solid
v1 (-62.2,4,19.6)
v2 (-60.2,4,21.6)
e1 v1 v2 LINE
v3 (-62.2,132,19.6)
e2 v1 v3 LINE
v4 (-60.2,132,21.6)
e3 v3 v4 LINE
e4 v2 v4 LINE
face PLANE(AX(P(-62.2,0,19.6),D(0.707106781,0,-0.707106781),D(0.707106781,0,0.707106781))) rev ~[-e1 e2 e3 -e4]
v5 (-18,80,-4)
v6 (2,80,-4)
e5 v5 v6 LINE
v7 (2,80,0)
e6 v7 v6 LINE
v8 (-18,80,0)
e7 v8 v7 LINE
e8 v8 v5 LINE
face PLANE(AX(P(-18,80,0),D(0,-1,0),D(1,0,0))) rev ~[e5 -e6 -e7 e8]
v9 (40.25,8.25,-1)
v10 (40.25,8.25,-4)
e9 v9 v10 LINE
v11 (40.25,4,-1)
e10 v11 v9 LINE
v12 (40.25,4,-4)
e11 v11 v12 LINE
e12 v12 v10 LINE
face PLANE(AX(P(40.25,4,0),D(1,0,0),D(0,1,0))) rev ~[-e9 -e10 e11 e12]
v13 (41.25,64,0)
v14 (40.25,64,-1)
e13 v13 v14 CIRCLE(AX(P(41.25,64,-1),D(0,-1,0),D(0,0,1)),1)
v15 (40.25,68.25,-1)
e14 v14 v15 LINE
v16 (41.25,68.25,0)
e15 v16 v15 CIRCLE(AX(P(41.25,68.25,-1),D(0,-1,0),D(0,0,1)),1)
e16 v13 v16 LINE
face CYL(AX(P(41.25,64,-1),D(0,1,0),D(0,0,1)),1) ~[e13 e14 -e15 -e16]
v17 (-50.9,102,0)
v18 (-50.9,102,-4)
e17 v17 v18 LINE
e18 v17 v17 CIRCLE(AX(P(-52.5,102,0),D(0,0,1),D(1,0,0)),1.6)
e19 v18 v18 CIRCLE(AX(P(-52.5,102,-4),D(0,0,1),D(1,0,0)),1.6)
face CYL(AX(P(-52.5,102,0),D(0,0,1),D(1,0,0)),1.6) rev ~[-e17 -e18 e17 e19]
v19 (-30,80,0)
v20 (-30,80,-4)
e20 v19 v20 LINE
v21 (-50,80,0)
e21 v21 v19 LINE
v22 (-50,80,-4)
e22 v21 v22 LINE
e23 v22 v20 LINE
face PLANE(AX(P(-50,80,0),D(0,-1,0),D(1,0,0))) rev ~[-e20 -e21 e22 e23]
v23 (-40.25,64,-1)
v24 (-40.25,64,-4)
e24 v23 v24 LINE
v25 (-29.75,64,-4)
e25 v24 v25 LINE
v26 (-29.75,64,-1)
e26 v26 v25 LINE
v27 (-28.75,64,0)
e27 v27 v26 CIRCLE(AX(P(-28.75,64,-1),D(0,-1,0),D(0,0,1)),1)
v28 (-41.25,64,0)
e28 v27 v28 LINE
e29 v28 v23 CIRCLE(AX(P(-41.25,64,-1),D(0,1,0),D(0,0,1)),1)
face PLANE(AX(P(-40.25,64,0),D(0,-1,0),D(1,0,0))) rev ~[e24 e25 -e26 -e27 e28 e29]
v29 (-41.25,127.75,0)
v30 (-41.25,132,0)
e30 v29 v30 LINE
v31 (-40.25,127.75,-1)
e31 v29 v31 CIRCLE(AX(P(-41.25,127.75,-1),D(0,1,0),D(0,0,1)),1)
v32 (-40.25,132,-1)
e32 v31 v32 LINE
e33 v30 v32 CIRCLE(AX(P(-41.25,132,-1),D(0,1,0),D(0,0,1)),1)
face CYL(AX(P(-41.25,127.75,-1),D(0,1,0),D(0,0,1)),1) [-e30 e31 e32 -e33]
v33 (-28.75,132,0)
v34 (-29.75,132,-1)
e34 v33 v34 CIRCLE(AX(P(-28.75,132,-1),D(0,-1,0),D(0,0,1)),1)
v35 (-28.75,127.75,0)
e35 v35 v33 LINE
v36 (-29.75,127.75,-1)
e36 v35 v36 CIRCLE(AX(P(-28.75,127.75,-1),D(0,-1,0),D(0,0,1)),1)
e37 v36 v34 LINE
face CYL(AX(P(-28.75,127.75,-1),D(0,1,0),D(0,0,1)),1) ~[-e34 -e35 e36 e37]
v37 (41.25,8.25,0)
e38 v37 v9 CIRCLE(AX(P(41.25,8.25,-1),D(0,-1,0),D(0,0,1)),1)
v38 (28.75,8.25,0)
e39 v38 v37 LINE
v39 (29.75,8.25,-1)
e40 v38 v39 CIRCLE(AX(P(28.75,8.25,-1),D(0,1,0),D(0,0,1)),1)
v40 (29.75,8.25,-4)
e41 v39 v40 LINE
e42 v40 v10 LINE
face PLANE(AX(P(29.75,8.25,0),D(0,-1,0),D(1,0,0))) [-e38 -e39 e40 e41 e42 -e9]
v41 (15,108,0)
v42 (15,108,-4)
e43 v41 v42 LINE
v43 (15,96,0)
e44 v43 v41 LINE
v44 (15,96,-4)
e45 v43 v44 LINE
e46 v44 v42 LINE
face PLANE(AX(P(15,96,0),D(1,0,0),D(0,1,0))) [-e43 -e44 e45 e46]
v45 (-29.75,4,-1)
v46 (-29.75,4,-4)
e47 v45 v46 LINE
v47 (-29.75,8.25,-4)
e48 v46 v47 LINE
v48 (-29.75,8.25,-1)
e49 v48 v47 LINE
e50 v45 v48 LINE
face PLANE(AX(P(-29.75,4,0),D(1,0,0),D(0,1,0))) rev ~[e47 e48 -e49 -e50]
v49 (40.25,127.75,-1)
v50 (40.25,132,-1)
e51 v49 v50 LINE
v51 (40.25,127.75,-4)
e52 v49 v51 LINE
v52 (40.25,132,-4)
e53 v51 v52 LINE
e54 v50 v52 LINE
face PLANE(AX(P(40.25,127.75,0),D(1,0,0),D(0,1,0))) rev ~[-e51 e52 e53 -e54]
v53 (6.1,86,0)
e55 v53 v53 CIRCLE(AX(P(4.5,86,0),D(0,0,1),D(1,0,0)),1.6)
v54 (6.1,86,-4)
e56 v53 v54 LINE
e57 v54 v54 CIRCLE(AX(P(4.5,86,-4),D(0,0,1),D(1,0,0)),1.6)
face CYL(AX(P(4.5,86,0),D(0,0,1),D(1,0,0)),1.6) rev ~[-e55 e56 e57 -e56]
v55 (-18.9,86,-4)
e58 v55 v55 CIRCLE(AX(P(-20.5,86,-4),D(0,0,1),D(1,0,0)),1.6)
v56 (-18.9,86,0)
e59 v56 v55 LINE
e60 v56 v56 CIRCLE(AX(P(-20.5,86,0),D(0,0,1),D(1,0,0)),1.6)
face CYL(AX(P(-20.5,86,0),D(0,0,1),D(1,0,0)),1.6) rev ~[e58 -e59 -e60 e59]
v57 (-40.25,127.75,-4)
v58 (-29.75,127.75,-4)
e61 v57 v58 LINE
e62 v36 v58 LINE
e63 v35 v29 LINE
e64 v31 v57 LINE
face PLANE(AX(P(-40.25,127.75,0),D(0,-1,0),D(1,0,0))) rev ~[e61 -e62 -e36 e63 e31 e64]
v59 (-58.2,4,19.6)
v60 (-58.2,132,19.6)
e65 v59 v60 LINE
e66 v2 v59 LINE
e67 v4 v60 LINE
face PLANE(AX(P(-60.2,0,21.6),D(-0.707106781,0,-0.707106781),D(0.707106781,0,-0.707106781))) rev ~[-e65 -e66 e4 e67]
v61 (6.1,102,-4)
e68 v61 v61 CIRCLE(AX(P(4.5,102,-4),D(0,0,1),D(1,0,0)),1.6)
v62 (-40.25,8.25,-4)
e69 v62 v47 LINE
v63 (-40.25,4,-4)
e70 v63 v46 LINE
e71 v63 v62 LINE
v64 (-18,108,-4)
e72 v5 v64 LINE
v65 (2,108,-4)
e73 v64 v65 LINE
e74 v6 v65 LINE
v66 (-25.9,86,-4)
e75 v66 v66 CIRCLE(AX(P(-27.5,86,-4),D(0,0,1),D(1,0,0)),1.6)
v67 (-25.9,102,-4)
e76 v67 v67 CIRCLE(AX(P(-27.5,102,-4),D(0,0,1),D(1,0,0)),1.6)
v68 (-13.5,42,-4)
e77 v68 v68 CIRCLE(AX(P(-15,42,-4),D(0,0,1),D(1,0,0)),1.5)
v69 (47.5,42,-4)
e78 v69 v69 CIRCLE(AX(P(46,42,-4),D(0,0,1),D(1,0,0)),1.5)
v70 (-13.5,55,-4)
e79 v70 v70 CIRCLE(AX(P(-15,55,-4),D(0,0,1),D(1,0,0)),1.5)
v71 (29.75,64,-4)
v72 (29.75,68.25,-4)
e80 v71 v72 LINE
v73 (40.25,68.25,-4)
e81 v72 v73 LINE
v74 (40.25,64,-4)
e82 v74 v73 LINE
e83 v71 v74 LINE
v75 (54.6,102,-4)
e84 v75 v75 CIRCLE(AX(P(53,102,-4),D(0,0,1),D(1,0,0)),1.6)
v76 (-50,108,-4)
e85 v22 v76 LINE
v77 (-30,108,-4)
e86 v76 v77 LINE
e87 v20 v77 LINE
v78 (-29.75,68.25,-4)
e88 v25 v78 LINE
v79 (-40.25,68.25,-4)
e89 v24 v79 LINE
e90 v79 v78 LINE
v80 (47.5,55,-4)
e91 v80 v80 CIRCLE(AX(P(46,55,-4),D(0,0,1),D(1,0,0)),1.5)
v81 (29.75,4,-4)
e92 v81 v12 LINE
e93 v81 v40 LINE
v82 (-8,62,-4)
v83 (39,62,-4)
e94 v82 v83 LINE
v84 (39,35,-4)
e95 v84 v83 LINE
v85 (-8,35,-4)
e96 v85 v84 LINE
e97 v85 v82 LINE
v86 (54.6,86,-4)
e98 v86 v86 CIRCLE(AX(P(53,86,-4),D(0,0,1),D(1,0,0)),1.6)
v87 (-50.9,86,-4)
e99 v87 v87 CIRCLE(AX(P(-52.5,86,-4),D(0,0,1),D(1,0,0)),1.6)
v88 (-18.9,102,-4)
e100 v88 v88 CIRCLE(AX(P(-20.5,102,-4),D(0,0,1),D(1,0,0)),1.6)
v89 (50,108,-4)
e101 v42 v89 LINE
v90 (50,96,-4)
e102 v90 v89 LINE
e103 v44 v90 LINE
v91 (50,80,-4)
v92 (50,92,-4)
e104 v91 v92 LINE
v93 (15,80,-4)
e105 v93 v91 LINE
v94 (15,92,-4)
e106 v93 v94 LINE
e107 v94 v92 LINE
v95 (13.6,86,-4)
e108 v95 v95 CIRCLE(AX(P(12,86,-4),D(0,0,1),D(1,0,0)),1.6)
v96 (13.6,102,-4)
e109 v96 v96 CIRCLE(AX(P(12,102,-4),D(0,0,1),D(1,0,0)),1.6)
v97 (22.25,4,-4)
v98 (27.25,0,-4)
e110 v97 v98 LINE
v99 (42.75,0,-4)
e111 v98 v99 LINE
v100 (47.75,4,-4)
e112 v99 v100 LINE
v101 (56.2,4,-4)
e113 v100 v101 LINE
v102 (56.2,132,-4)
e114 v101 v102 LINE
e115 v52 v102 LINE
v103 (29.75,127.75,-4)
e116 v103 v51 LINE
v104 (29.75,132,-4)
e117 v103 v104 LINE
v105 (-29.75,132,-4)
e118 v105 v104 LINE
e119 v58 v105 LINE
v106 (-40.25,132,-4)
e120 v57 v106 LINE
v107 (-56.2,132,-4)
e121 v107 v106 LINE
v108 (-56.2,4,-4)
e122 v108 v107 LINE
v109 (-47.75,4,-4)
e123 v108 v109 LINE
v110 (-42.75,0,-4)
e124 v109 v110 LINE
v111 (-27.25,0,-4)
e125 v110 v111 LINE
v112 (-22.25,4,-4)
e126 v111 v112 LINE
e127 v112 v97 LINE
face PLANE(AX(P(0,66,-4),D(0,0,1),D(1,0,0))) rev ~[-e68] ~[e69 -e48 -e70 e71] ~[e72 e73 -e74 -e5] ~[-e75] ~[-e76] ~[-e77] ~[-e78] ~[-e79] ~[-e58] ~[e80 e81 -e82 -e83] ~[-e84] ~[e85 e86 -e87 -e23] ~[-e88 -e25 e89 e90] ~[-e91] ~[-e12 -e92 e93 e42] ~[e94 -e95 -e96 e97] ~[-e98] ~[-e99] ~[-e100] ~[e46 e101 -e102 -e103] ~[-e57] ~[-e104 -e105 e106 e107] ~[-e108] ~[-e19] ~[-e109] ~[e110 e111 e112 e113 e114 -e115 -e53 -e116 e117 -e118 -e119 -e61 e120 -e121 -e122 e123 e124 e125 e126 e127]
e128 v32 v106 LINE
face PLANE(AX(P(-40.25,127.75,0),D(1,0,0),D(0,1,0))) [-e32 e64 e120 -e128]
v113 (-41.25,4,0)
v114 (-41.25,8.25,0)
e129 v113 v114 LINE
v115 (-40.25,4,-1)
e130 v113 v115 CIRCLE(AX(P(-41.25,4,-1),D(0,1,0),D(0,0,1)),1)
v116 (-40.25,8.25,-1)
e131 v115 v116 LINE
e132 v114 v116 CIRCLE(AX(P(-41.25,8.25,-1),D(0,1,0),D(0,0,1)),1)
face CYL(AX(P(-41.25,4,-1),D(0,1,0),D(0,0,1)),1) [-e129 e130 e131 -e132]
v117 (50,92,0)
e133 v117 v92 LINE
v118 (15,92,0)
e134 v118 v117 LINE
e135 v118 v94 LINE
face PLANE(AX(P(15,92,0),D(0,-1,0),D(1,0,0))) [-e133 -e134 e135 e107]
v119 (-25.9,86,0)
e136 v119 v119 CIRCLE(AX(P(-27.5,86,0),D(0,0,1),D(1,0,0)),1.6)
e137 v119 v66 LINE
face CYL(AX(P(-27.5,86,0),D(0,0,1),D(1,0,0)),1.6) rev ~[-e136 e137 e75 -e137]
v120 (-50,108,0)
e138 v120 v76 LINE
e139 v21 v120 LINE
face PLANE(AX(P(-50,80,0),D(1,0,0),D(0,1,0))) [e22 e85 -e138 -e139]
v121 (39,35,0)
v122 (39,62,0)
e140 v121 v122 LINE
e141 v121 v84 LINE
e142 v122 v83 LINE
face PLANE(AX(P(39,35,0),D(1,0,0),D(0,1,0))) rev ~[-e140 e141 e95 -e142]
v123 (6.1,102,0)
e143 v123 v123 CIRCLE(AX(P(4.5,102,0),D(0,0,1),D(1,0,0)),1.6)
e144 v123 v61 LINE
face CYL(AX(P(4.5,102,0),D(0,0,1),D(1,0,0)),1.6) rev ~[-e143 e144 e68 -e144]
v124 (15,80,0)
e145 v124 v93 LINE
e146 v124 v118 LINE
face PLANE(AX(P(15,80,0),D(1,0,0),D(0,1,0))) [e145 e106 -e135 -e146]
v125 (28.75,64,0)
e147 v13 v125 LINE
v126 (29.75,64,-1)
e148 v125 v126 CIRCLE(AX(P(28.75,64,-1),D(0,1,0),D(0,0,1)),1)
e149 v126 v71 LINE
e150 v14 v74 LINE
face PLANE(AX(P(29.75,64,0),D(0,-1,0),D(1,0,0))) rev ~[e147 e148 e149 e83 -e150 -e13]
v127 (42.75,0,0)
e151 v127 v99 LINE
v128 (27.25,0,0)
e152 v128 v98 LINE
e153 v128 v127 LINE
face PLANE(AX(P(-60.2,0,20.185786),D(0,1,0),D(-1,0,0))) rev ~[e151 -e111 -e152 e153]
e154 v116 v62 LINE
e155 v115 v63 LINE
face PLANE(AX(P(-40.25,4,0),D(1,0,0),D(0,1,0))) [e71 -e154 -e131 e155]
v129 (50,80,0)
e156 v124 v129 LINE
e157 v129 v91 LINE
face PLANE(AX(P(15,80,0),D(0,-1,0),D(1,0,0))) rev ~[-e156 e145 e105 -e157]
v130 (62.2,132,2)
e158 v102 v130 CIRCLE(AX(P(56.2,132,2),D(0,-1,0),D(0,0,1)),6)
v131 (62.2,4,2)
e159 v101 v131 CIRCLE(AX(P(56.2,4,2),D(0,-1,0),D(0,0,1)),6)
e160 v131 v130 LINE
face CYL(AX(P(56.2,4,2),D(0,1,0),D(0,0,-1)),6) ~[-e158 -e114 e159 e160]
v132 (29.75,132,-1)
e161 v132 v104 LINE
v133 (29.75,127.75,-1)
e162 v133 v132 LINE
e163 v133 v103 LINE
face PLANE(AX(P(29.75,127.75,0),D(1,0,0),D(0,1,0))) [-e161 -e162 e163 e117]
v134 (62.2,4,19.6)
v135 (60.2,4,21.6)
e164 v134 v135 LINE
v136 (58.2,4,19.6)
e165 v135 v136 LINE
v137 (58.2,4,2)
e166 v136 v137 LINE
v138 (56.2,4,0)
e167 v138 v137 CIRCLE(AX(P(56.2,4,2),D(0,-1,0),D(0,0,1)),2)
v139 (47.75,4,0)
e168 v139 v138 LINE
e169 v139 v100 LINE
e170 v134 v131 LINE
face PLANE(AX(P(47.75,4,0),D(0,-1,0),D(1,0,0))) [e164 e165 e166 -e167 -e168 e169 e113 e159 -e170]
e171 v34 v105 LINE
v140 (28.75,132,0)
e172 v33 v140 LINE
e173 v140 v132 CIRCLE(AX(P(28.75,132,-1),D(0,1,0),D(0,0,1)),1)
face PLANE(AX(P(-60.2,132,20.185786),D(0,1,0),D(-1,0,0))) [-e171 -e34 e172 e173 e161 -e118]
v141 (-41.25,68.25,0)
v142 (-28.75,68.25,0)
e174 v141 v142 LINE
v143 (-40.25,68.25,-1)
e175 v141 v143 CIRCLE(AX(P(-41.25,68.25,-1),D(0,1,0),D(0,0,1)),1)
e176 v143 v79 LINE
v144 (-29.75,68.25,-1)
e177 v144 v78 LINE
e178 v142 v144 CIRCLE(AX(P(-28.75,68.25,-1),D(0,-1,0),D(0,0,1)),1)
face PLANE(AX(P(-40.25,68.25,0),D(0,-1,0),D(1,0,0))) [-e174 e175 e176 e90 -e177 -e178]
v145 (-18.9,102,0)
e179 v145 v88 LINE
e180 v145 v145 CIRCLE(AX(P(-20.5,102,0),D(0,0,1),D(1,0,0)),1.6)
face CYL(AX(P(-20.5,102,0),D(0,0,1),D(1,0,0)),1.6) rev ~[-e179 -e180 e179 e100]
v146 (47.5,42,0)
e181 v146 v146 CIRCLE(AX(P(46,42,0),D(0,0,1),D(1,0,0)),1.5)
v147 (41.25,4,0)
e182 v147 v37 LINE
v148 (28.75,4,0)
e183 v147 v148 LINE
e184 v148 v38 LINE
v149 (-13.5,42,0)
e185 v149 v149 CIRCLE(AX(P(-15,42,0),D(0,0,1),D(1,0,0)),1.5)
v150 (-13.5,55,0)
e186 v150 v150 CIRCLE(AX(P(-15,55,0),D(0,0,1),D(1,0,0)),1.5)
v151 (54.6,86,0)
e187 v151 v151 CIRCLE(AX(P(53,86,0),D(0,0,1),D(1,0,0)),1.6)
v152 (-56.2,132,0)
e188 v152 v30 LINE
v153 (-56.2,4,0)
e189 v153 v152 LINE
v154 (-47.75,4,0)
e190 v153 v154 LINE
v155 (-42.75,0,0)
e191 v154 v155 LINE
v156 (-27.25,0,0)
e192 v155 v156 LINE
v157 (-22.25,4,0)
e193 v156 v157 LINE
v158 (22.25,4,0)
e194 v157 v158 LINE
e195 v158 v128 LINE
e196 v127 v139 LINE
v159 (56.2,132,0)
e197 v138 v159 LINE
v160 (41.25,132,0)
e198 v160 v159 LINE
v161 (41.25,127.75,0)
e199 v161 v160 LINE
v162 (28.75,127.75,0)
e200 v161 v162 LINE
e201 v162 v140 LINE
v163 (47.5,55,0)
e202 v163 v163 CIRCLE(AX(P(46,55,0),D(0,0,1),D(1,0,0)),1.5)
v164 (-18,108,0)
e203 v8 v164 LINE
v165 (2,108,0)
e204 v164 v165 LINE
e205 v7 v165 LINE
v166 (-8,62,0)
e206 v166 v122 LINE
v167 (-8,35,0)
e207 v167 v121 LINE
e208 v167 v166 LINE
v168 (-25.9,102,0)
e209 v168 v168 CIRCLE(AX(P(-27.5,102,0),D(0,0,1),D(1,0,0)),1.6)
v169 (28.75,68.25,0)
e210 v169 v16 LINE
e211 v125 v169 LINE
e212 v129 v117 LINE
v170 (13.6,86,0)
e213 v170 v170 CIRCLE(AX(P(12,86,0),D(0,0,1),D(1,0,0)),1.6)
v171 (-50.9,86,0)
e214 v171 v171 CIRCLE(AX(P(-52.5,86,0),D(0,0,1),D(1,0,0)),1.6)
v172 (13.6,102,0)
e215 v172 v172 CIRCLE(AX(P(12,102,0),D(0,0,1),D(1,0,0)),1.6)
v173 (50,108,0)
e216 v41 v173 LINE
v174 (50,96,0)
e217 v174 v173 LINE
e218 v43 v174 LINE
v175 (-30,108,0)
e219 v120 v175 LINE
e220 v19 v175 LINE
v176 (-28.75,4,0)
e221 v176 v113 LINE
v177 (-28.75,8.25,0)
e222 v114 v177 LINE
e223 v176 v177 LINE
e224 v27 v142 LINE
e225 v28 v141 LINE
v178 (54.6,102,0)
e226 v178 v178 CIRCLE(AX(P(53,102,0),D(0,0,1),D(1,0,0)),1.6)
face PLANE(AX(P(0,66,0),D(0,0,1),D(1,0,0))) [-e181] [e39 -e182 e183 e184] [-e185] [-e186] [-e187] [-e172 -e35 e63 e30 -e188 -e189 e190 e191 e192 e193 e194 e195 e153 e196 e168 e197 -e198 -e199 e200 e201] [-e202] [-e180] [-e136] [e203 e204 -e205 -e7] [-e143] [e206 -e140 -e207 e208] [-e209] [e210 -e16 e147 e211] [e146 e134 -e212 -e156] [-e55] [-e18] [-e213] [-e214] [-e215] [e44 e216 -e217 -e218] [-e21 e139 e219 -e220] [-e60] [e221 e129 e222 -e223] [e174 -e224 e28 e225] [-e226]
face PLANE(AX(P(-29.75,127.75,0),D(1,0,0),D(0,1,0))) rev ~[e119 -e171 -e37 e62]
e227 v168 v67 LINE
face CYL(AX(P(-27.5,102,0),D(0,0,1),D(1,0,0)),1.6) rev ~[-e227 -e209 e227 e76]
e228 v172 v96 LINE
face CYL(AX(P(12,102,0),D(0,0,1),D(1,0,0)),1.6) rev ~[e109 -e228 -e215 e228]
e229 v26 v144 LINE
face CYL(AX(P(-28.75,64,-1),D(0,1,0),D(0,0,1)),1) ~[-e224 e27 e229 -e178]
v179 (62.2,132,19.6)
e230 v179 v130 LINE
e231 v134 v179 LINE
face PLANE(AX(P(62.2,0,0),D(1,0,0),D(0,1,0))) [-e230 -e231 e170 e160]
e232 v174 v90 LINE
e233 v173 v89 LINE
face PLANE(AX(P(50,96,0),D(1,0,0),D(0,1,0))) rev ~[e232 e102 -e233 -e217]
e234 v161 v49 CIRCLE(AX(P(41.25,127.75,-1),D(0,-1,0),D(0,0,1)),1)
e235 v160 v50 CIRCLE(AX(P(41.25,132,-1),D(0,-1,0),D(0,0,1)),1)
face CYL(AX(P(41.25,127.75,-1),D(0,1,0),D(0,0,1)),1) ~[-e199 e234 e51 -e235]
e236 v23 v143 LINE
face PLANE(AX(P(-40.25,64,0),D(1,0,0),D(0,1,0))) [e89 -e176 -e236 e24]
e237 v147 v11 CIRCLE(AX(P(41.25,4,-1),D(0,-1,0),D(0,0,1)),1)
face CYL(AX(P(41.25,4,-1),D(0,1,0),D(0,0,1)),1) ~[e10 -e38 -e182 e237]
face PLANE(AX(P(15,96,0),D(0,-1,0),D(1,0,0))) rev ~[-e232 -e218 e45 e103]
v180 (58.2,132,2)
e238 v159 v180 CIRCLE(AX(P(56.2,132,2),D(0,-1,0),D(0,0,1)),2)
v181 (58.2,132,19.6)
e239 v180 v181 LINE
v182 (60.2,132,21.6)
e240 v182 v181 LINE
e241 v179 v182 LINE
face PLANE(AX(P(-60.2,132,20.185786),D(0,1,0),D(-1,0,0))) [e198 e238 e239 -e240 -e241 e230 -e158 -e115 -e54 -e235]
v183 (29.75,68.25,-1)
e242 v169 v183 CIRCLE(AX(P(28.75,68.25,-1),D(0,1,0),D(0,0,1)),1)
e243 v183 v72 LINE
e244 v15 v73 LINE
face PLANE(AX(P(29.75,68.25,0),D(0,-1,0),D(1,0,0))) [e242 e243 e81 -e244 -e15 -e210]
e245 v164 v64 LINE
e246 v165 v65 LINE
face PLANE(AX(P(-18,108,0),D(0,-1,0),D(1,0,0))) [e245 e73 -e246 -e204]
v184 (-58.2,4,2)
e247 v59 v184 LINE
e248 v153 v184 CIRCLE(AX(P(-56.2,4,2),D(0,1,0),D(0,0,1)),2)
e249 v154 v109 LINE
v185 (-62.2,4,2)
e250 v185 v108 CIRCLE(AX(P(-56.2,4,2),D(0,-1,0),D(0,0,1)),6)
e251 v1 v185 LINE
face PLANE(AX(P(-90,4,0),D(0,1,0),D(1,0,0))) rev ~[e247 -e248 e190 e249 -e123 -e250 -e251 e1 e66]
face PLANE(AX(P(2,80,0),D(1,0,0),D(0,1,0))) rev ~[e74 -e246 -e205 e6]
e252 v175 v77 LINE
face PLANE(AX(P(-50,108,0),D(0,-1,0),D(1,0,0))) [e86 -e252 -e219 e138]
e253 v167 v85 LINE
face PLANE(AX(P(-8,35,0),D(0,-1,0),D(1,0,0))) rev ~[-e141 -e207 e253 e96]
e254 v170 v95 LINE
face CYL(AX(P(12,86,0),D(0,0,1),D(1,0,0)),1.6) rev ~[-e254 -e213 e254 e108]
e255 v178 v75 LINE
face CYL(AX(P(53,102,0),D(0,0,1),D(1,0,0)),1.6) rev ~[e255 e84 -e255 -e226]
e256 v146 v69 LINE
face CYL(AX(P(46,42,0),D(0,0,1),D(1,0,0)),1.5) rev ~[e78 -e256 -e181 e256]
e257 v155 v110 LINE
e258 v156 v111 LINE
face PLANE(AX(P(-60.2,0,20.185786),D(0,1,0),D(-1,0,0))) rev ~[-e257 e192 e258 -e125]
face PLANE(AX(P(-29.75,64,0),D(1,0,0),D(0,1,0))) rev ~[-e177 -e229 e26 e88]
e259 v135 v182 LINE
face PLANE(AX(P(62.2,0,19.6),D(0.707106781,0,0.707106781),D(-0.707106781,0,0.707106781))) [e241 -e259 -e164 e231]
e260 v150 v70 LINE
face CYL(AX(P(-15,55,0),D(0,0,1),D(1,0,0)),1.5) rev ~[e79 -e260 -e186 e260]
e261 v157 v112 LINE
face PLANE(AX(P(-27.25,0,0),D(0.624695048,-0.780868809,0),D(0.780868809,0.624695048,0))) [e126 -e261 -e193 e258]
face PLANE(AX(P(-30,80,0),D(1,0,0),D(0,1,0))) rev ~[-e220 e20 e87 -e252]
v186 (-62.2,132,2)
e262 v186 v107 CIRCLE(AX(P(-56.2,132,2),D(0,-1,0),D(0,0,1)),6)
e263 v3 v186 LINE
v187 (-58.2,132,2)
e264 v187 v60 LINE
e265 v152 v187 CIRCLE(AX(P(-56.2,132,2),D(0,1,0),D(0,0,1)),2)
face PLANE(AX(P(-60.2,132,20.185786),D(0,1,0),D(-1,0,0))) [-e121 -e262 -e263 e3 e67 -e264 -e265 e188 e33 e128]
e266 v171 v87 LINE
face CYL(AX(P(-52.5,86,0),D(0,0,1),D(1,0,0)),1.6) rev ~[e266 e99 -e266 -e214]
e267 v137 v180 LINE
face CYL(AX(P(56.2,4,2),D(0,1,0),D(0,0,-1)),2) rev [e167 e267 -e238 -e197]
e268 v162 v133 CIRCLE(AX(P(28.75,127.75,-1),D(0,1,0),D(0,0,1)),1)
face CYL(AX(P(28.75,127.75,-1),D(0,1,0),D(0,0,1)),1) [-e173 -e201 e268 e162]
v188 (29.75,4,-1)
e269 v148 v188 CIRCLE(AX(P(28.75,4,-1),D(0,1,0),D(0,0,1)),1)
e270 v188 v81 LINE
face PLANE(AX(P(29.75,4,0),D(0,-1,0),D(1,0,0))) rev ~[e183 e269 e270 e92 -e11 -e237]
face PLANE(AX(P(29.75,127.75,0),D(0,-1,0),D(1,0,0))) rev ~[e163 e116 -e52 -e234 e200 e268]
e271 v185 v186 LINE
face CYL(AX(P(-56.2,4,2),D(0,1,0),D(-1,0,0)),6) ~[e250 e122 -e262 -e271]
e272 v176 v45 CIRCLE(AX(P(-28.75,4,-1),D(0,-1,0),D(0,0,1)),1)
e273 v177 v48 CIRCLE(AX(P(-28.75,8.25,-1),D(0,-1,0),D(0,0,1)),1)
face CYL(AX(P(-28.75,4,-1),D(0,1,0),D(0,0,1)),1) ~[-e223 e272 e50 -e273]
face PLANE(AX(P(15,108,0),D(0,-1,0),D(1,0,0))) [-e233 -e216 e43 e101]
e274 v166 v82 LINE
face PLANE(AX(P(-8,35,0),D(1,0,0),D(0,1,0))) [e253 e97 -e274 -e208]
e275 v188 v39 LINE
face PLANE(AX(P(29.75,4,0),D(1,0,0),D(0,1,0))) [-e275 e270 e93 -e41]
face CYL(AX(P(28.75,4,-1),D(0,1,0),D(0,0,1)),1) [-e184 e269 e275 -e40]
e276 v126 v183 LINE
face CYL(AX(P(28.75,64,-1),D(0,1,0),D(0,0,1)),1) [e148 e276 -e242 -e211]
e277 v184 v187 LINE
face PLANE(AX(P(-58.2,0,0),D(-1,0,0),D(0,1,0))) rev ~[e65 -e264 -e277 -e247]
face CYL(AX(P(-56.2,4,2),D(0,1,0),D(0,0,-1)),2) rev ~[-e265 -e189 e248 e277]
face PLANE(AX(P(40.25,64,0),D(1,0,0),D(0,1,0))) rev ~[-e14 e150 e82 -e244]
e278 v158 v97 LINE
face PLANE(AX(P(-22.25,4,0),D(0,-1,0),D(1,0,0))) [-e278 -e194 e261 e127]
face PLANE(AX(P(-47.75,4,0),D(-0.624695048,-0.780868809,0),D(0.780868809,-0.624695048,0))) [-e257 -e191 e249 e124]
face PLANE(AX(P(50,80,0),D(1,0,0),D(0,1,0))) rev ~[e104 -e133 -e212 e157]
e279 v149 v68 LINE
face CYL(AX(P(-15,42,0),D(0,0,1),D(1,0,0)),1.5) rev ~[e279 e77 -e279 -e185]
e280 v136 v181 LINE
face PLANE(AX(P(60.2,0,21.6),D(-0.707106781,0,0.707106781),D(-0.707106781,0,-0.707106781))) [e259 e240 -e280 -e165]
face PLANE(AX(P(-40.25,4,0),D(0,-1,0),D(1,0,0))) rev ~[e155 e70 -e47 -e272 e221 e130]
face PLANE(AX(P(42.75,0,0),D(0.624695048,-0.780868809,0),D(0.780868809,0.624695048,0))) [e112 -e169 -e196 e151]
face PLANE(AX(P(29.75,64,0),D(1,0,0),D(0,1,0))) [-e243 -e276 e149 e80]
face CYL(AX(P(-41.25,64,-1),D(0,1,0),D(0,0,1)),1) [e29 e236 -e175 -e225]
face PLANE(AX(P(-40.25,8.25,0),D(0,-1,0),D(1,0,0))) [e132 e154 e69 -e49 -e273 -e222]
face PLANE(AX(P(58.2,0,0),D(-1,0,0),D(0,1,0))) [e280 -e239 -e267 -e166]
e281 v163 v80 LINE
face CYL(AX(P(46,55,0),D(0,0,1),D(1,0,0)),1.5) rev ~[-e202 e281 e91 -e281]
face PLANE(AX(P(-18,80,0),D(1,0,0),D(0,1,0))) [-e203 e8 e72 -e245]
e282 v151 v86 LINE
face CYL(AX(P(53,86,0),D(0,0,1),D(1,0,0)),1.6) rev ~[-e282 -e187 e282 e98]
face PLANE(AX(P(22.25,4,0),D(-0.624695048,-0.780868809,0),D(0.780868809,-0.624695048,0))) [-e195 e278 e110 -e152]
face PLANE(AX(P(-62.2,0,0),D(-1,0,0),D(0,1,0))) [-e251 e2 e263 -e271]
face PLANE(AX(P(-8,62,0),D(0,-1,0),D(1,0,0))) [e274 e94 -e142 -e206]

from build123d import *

# Parameters (mm, degrees)
SKETCH_W          = 124.4
SKETCH_H          = 132
PAD_DEPTH         = 4
SKETCH001_W       = 4
SKETCH001_H       = 132
PAD001_DEPTH      = 19.6
PAD002_DEPTH      = 132
SKETCH003_W       = 10.5
SKETCH003_H       = 4.25
POCKET_DEPTH      = 4.001
POCKET_DEPTH_BACK = 21.601
FILLET_R          = 6
FILLET001_R       = 2
FILLET002_R       = 1
SKETCH004_R       = 1.6
SKETCH004_R_2     = 1.5
SKETCH004_W       = 20
SKETCH004_H       = 28
SKETCH004_W_2     = 35
SKETCH004_H_2     = 12
SKETCH004_W_3     = 47
SKETCH004_H_3     = 27
POCKET001_DEPTH   = 4.001


with BuildPart() as part:
    # Sketch → Pad (new body)
    with BuildSketch(Plane.XY):
        with Locations((0, 66)):
            Rectangle(SKETCH_W, SKETCH_H)
    extrude(amount=-PAD_DEPTH)

    # Sketch001 → Pad001 (join)
    with BuildSketch(Plane.XY):
        with Locations((-60.2, 66)):
            Rectangle(SKETCH001_W, SKETCH001_H)
        with Locations((60.2, 66)):
            Rectangle(SKETCH001_W, SKETCH001_H)
    extrude(amount=PAD001_DEPTH)

    # Sketch002 → Pad002 (join)
    with BuildSketch(Plane.XZ):
        Polygon((-58.2, 19.6), (-62.2, 19.6), (-60.2, 21.6), align=None)
        Polygon((58.2, 19.6), (62.2, 19.6), (60.2, 21.6), align=None)
    extrude(amount=-PAD002_DEPTH)

    # Sketch003 → Pocket (cut, two sides)
    with BuildSketch(Plane.XY) as pocket_sk:
        with Locations((-35, 6.125)):
            Rectangle(SKETCH003_W, SKETCH003_H)
        with Locations((-35, 66.125)):
            Rectangle(SKETCH003_W, SKETCH003_H)
        with Locations((-35, 129.875)):
            Rectangle(SKETCH003_W, SKETCH003_H)
        with Locations((35, 6.125)):
            Rectangle(SKETCH003_W, SKETCH003_H)
        with Locations((35, 66.125)):
            Rectangle(SKETCH003_W, SKETCH003_H)
        with Locations((35, 129.875)):
            Rectangle(SKETCH003_W, SKETCH003_H)
        Polygon((-42.75, 0), (-27.25, 0), (-22.25, 4), (22.25, 4), (27.25, 0), (42.75, 0), (47.75, 4), (90, 4), (90, -46), (-90, -46), (-90, 4), (-47.75, 4), align=None)
    extrude(amount=-POCKET_DEPTH, mode=Mode.SUBTRACT)
    extrude(pocket_sk.sketch, amount=POCKET_DEPTH_BACK, mode=Mode.SUBTRACT)

    # Fillet
    fillet_edges = [part.edges().sort_by_distance(p)[0] for p in [
        (-62.2, 68, -4),
        (62.2, 68, -4),
    ]]
    fillet(fillet_edges, radius=FILLET_R)

    # Fillet001
    fillet001_edges = [part.edges().sort_by_distance(p)[0] for p in [
        (-58.2, 68, 0),
        (58.2, 68, 0),
    ]]
    fillet(fillet001_edges, radius=FILLET001_R)

    # Fillet002
    fillet002_edges = [part.edges().sort_by_distance(p)[0] for p in [
        (-40.25, 129.875, 0),
        (-29.75, 129.875, 0),
        (29.75, 129.875, 0),
        (40.25, 129.875, 0),
        (29.75, 66.125, 0),
        (40.25, 66.125, 0),
        (29.75, 6.125, 0),
        (40.25, 6.125, 0),
        (-40.25, 6.125, 0),
        (-29.75, 6.125, 0),
        (-40.25, 66.125, 0),
        (-29.75, 66.125, 0),
    ]]
    fillet(fillet002_edges, radius=FILLET002_R)

    # Sketch004 → Pocket001 (cut, through all)
    with BuildSketch(Plane.XY):
        with Locations((-52.5, 102)):
            Circle(SKETCH004_R)
        with Locations((-27.5, 102)):
            Circle(SKETCH004_R)
        with Locations((-27.5, 86)):
            Circle(SKETCH004_R)
        with Locations((-52.5, 86)):
            Circle(SKETCH004_R)
        with Locations((-20.5, 102)):
            Circle(SKETCH004_R)
        with Locations((4.5, 102)):
            Circle(SKETCH004_R)
        with Locations((4.5, 86)):
            Circle(SKETCH004_R)
        with Locations((-20.5, 86)):
            Circle(SKETCH004_R)
        with Locations((12, 102)):
            Circle(SKETCH004_R)
        with Locations((53, 102)):
            Circle(SKETCH004_R)
        with Locations((12, 86)):
            Circle(SKETCH004_R)
        with Locations((53, 86)):
            Circle(SKETCH004_R)
        with Locations((46, 55)):
            Circle(SKETCH004_R_2)
        with Locations((46, 42)):
            Circle(SKETCH004_R_2)
        with Locations((-15, 55)):
            Circle(SKETCH004_R_2)
        with Locations((-15, 42)):
            Circle(SKETCH004_R_2)
        with Locations((-40, 94)):
            Rectangle(SKETCH004_W, SKETCH004_H)
        with Locations((-8, 94)):
            Rectangle(SKETCH004_W, SKETCH004_H)
        with Locations((32.5, 102)):
            Rectangle(SKETCH004_W_2, SKETCH004_H_2)
        with Locations((32.5, 86)):
            Rectangle(SKETCH004_W_2, SKETCH004_H_2)
        with Locations((15.5, 48.5)):
            Rectangle(SKETCH004_W_3, SKETCH004_H_3)
    extrude(amount=-POCKET001_DEPTH, mode=Mode.SUBTRACT)


solid = part.part
